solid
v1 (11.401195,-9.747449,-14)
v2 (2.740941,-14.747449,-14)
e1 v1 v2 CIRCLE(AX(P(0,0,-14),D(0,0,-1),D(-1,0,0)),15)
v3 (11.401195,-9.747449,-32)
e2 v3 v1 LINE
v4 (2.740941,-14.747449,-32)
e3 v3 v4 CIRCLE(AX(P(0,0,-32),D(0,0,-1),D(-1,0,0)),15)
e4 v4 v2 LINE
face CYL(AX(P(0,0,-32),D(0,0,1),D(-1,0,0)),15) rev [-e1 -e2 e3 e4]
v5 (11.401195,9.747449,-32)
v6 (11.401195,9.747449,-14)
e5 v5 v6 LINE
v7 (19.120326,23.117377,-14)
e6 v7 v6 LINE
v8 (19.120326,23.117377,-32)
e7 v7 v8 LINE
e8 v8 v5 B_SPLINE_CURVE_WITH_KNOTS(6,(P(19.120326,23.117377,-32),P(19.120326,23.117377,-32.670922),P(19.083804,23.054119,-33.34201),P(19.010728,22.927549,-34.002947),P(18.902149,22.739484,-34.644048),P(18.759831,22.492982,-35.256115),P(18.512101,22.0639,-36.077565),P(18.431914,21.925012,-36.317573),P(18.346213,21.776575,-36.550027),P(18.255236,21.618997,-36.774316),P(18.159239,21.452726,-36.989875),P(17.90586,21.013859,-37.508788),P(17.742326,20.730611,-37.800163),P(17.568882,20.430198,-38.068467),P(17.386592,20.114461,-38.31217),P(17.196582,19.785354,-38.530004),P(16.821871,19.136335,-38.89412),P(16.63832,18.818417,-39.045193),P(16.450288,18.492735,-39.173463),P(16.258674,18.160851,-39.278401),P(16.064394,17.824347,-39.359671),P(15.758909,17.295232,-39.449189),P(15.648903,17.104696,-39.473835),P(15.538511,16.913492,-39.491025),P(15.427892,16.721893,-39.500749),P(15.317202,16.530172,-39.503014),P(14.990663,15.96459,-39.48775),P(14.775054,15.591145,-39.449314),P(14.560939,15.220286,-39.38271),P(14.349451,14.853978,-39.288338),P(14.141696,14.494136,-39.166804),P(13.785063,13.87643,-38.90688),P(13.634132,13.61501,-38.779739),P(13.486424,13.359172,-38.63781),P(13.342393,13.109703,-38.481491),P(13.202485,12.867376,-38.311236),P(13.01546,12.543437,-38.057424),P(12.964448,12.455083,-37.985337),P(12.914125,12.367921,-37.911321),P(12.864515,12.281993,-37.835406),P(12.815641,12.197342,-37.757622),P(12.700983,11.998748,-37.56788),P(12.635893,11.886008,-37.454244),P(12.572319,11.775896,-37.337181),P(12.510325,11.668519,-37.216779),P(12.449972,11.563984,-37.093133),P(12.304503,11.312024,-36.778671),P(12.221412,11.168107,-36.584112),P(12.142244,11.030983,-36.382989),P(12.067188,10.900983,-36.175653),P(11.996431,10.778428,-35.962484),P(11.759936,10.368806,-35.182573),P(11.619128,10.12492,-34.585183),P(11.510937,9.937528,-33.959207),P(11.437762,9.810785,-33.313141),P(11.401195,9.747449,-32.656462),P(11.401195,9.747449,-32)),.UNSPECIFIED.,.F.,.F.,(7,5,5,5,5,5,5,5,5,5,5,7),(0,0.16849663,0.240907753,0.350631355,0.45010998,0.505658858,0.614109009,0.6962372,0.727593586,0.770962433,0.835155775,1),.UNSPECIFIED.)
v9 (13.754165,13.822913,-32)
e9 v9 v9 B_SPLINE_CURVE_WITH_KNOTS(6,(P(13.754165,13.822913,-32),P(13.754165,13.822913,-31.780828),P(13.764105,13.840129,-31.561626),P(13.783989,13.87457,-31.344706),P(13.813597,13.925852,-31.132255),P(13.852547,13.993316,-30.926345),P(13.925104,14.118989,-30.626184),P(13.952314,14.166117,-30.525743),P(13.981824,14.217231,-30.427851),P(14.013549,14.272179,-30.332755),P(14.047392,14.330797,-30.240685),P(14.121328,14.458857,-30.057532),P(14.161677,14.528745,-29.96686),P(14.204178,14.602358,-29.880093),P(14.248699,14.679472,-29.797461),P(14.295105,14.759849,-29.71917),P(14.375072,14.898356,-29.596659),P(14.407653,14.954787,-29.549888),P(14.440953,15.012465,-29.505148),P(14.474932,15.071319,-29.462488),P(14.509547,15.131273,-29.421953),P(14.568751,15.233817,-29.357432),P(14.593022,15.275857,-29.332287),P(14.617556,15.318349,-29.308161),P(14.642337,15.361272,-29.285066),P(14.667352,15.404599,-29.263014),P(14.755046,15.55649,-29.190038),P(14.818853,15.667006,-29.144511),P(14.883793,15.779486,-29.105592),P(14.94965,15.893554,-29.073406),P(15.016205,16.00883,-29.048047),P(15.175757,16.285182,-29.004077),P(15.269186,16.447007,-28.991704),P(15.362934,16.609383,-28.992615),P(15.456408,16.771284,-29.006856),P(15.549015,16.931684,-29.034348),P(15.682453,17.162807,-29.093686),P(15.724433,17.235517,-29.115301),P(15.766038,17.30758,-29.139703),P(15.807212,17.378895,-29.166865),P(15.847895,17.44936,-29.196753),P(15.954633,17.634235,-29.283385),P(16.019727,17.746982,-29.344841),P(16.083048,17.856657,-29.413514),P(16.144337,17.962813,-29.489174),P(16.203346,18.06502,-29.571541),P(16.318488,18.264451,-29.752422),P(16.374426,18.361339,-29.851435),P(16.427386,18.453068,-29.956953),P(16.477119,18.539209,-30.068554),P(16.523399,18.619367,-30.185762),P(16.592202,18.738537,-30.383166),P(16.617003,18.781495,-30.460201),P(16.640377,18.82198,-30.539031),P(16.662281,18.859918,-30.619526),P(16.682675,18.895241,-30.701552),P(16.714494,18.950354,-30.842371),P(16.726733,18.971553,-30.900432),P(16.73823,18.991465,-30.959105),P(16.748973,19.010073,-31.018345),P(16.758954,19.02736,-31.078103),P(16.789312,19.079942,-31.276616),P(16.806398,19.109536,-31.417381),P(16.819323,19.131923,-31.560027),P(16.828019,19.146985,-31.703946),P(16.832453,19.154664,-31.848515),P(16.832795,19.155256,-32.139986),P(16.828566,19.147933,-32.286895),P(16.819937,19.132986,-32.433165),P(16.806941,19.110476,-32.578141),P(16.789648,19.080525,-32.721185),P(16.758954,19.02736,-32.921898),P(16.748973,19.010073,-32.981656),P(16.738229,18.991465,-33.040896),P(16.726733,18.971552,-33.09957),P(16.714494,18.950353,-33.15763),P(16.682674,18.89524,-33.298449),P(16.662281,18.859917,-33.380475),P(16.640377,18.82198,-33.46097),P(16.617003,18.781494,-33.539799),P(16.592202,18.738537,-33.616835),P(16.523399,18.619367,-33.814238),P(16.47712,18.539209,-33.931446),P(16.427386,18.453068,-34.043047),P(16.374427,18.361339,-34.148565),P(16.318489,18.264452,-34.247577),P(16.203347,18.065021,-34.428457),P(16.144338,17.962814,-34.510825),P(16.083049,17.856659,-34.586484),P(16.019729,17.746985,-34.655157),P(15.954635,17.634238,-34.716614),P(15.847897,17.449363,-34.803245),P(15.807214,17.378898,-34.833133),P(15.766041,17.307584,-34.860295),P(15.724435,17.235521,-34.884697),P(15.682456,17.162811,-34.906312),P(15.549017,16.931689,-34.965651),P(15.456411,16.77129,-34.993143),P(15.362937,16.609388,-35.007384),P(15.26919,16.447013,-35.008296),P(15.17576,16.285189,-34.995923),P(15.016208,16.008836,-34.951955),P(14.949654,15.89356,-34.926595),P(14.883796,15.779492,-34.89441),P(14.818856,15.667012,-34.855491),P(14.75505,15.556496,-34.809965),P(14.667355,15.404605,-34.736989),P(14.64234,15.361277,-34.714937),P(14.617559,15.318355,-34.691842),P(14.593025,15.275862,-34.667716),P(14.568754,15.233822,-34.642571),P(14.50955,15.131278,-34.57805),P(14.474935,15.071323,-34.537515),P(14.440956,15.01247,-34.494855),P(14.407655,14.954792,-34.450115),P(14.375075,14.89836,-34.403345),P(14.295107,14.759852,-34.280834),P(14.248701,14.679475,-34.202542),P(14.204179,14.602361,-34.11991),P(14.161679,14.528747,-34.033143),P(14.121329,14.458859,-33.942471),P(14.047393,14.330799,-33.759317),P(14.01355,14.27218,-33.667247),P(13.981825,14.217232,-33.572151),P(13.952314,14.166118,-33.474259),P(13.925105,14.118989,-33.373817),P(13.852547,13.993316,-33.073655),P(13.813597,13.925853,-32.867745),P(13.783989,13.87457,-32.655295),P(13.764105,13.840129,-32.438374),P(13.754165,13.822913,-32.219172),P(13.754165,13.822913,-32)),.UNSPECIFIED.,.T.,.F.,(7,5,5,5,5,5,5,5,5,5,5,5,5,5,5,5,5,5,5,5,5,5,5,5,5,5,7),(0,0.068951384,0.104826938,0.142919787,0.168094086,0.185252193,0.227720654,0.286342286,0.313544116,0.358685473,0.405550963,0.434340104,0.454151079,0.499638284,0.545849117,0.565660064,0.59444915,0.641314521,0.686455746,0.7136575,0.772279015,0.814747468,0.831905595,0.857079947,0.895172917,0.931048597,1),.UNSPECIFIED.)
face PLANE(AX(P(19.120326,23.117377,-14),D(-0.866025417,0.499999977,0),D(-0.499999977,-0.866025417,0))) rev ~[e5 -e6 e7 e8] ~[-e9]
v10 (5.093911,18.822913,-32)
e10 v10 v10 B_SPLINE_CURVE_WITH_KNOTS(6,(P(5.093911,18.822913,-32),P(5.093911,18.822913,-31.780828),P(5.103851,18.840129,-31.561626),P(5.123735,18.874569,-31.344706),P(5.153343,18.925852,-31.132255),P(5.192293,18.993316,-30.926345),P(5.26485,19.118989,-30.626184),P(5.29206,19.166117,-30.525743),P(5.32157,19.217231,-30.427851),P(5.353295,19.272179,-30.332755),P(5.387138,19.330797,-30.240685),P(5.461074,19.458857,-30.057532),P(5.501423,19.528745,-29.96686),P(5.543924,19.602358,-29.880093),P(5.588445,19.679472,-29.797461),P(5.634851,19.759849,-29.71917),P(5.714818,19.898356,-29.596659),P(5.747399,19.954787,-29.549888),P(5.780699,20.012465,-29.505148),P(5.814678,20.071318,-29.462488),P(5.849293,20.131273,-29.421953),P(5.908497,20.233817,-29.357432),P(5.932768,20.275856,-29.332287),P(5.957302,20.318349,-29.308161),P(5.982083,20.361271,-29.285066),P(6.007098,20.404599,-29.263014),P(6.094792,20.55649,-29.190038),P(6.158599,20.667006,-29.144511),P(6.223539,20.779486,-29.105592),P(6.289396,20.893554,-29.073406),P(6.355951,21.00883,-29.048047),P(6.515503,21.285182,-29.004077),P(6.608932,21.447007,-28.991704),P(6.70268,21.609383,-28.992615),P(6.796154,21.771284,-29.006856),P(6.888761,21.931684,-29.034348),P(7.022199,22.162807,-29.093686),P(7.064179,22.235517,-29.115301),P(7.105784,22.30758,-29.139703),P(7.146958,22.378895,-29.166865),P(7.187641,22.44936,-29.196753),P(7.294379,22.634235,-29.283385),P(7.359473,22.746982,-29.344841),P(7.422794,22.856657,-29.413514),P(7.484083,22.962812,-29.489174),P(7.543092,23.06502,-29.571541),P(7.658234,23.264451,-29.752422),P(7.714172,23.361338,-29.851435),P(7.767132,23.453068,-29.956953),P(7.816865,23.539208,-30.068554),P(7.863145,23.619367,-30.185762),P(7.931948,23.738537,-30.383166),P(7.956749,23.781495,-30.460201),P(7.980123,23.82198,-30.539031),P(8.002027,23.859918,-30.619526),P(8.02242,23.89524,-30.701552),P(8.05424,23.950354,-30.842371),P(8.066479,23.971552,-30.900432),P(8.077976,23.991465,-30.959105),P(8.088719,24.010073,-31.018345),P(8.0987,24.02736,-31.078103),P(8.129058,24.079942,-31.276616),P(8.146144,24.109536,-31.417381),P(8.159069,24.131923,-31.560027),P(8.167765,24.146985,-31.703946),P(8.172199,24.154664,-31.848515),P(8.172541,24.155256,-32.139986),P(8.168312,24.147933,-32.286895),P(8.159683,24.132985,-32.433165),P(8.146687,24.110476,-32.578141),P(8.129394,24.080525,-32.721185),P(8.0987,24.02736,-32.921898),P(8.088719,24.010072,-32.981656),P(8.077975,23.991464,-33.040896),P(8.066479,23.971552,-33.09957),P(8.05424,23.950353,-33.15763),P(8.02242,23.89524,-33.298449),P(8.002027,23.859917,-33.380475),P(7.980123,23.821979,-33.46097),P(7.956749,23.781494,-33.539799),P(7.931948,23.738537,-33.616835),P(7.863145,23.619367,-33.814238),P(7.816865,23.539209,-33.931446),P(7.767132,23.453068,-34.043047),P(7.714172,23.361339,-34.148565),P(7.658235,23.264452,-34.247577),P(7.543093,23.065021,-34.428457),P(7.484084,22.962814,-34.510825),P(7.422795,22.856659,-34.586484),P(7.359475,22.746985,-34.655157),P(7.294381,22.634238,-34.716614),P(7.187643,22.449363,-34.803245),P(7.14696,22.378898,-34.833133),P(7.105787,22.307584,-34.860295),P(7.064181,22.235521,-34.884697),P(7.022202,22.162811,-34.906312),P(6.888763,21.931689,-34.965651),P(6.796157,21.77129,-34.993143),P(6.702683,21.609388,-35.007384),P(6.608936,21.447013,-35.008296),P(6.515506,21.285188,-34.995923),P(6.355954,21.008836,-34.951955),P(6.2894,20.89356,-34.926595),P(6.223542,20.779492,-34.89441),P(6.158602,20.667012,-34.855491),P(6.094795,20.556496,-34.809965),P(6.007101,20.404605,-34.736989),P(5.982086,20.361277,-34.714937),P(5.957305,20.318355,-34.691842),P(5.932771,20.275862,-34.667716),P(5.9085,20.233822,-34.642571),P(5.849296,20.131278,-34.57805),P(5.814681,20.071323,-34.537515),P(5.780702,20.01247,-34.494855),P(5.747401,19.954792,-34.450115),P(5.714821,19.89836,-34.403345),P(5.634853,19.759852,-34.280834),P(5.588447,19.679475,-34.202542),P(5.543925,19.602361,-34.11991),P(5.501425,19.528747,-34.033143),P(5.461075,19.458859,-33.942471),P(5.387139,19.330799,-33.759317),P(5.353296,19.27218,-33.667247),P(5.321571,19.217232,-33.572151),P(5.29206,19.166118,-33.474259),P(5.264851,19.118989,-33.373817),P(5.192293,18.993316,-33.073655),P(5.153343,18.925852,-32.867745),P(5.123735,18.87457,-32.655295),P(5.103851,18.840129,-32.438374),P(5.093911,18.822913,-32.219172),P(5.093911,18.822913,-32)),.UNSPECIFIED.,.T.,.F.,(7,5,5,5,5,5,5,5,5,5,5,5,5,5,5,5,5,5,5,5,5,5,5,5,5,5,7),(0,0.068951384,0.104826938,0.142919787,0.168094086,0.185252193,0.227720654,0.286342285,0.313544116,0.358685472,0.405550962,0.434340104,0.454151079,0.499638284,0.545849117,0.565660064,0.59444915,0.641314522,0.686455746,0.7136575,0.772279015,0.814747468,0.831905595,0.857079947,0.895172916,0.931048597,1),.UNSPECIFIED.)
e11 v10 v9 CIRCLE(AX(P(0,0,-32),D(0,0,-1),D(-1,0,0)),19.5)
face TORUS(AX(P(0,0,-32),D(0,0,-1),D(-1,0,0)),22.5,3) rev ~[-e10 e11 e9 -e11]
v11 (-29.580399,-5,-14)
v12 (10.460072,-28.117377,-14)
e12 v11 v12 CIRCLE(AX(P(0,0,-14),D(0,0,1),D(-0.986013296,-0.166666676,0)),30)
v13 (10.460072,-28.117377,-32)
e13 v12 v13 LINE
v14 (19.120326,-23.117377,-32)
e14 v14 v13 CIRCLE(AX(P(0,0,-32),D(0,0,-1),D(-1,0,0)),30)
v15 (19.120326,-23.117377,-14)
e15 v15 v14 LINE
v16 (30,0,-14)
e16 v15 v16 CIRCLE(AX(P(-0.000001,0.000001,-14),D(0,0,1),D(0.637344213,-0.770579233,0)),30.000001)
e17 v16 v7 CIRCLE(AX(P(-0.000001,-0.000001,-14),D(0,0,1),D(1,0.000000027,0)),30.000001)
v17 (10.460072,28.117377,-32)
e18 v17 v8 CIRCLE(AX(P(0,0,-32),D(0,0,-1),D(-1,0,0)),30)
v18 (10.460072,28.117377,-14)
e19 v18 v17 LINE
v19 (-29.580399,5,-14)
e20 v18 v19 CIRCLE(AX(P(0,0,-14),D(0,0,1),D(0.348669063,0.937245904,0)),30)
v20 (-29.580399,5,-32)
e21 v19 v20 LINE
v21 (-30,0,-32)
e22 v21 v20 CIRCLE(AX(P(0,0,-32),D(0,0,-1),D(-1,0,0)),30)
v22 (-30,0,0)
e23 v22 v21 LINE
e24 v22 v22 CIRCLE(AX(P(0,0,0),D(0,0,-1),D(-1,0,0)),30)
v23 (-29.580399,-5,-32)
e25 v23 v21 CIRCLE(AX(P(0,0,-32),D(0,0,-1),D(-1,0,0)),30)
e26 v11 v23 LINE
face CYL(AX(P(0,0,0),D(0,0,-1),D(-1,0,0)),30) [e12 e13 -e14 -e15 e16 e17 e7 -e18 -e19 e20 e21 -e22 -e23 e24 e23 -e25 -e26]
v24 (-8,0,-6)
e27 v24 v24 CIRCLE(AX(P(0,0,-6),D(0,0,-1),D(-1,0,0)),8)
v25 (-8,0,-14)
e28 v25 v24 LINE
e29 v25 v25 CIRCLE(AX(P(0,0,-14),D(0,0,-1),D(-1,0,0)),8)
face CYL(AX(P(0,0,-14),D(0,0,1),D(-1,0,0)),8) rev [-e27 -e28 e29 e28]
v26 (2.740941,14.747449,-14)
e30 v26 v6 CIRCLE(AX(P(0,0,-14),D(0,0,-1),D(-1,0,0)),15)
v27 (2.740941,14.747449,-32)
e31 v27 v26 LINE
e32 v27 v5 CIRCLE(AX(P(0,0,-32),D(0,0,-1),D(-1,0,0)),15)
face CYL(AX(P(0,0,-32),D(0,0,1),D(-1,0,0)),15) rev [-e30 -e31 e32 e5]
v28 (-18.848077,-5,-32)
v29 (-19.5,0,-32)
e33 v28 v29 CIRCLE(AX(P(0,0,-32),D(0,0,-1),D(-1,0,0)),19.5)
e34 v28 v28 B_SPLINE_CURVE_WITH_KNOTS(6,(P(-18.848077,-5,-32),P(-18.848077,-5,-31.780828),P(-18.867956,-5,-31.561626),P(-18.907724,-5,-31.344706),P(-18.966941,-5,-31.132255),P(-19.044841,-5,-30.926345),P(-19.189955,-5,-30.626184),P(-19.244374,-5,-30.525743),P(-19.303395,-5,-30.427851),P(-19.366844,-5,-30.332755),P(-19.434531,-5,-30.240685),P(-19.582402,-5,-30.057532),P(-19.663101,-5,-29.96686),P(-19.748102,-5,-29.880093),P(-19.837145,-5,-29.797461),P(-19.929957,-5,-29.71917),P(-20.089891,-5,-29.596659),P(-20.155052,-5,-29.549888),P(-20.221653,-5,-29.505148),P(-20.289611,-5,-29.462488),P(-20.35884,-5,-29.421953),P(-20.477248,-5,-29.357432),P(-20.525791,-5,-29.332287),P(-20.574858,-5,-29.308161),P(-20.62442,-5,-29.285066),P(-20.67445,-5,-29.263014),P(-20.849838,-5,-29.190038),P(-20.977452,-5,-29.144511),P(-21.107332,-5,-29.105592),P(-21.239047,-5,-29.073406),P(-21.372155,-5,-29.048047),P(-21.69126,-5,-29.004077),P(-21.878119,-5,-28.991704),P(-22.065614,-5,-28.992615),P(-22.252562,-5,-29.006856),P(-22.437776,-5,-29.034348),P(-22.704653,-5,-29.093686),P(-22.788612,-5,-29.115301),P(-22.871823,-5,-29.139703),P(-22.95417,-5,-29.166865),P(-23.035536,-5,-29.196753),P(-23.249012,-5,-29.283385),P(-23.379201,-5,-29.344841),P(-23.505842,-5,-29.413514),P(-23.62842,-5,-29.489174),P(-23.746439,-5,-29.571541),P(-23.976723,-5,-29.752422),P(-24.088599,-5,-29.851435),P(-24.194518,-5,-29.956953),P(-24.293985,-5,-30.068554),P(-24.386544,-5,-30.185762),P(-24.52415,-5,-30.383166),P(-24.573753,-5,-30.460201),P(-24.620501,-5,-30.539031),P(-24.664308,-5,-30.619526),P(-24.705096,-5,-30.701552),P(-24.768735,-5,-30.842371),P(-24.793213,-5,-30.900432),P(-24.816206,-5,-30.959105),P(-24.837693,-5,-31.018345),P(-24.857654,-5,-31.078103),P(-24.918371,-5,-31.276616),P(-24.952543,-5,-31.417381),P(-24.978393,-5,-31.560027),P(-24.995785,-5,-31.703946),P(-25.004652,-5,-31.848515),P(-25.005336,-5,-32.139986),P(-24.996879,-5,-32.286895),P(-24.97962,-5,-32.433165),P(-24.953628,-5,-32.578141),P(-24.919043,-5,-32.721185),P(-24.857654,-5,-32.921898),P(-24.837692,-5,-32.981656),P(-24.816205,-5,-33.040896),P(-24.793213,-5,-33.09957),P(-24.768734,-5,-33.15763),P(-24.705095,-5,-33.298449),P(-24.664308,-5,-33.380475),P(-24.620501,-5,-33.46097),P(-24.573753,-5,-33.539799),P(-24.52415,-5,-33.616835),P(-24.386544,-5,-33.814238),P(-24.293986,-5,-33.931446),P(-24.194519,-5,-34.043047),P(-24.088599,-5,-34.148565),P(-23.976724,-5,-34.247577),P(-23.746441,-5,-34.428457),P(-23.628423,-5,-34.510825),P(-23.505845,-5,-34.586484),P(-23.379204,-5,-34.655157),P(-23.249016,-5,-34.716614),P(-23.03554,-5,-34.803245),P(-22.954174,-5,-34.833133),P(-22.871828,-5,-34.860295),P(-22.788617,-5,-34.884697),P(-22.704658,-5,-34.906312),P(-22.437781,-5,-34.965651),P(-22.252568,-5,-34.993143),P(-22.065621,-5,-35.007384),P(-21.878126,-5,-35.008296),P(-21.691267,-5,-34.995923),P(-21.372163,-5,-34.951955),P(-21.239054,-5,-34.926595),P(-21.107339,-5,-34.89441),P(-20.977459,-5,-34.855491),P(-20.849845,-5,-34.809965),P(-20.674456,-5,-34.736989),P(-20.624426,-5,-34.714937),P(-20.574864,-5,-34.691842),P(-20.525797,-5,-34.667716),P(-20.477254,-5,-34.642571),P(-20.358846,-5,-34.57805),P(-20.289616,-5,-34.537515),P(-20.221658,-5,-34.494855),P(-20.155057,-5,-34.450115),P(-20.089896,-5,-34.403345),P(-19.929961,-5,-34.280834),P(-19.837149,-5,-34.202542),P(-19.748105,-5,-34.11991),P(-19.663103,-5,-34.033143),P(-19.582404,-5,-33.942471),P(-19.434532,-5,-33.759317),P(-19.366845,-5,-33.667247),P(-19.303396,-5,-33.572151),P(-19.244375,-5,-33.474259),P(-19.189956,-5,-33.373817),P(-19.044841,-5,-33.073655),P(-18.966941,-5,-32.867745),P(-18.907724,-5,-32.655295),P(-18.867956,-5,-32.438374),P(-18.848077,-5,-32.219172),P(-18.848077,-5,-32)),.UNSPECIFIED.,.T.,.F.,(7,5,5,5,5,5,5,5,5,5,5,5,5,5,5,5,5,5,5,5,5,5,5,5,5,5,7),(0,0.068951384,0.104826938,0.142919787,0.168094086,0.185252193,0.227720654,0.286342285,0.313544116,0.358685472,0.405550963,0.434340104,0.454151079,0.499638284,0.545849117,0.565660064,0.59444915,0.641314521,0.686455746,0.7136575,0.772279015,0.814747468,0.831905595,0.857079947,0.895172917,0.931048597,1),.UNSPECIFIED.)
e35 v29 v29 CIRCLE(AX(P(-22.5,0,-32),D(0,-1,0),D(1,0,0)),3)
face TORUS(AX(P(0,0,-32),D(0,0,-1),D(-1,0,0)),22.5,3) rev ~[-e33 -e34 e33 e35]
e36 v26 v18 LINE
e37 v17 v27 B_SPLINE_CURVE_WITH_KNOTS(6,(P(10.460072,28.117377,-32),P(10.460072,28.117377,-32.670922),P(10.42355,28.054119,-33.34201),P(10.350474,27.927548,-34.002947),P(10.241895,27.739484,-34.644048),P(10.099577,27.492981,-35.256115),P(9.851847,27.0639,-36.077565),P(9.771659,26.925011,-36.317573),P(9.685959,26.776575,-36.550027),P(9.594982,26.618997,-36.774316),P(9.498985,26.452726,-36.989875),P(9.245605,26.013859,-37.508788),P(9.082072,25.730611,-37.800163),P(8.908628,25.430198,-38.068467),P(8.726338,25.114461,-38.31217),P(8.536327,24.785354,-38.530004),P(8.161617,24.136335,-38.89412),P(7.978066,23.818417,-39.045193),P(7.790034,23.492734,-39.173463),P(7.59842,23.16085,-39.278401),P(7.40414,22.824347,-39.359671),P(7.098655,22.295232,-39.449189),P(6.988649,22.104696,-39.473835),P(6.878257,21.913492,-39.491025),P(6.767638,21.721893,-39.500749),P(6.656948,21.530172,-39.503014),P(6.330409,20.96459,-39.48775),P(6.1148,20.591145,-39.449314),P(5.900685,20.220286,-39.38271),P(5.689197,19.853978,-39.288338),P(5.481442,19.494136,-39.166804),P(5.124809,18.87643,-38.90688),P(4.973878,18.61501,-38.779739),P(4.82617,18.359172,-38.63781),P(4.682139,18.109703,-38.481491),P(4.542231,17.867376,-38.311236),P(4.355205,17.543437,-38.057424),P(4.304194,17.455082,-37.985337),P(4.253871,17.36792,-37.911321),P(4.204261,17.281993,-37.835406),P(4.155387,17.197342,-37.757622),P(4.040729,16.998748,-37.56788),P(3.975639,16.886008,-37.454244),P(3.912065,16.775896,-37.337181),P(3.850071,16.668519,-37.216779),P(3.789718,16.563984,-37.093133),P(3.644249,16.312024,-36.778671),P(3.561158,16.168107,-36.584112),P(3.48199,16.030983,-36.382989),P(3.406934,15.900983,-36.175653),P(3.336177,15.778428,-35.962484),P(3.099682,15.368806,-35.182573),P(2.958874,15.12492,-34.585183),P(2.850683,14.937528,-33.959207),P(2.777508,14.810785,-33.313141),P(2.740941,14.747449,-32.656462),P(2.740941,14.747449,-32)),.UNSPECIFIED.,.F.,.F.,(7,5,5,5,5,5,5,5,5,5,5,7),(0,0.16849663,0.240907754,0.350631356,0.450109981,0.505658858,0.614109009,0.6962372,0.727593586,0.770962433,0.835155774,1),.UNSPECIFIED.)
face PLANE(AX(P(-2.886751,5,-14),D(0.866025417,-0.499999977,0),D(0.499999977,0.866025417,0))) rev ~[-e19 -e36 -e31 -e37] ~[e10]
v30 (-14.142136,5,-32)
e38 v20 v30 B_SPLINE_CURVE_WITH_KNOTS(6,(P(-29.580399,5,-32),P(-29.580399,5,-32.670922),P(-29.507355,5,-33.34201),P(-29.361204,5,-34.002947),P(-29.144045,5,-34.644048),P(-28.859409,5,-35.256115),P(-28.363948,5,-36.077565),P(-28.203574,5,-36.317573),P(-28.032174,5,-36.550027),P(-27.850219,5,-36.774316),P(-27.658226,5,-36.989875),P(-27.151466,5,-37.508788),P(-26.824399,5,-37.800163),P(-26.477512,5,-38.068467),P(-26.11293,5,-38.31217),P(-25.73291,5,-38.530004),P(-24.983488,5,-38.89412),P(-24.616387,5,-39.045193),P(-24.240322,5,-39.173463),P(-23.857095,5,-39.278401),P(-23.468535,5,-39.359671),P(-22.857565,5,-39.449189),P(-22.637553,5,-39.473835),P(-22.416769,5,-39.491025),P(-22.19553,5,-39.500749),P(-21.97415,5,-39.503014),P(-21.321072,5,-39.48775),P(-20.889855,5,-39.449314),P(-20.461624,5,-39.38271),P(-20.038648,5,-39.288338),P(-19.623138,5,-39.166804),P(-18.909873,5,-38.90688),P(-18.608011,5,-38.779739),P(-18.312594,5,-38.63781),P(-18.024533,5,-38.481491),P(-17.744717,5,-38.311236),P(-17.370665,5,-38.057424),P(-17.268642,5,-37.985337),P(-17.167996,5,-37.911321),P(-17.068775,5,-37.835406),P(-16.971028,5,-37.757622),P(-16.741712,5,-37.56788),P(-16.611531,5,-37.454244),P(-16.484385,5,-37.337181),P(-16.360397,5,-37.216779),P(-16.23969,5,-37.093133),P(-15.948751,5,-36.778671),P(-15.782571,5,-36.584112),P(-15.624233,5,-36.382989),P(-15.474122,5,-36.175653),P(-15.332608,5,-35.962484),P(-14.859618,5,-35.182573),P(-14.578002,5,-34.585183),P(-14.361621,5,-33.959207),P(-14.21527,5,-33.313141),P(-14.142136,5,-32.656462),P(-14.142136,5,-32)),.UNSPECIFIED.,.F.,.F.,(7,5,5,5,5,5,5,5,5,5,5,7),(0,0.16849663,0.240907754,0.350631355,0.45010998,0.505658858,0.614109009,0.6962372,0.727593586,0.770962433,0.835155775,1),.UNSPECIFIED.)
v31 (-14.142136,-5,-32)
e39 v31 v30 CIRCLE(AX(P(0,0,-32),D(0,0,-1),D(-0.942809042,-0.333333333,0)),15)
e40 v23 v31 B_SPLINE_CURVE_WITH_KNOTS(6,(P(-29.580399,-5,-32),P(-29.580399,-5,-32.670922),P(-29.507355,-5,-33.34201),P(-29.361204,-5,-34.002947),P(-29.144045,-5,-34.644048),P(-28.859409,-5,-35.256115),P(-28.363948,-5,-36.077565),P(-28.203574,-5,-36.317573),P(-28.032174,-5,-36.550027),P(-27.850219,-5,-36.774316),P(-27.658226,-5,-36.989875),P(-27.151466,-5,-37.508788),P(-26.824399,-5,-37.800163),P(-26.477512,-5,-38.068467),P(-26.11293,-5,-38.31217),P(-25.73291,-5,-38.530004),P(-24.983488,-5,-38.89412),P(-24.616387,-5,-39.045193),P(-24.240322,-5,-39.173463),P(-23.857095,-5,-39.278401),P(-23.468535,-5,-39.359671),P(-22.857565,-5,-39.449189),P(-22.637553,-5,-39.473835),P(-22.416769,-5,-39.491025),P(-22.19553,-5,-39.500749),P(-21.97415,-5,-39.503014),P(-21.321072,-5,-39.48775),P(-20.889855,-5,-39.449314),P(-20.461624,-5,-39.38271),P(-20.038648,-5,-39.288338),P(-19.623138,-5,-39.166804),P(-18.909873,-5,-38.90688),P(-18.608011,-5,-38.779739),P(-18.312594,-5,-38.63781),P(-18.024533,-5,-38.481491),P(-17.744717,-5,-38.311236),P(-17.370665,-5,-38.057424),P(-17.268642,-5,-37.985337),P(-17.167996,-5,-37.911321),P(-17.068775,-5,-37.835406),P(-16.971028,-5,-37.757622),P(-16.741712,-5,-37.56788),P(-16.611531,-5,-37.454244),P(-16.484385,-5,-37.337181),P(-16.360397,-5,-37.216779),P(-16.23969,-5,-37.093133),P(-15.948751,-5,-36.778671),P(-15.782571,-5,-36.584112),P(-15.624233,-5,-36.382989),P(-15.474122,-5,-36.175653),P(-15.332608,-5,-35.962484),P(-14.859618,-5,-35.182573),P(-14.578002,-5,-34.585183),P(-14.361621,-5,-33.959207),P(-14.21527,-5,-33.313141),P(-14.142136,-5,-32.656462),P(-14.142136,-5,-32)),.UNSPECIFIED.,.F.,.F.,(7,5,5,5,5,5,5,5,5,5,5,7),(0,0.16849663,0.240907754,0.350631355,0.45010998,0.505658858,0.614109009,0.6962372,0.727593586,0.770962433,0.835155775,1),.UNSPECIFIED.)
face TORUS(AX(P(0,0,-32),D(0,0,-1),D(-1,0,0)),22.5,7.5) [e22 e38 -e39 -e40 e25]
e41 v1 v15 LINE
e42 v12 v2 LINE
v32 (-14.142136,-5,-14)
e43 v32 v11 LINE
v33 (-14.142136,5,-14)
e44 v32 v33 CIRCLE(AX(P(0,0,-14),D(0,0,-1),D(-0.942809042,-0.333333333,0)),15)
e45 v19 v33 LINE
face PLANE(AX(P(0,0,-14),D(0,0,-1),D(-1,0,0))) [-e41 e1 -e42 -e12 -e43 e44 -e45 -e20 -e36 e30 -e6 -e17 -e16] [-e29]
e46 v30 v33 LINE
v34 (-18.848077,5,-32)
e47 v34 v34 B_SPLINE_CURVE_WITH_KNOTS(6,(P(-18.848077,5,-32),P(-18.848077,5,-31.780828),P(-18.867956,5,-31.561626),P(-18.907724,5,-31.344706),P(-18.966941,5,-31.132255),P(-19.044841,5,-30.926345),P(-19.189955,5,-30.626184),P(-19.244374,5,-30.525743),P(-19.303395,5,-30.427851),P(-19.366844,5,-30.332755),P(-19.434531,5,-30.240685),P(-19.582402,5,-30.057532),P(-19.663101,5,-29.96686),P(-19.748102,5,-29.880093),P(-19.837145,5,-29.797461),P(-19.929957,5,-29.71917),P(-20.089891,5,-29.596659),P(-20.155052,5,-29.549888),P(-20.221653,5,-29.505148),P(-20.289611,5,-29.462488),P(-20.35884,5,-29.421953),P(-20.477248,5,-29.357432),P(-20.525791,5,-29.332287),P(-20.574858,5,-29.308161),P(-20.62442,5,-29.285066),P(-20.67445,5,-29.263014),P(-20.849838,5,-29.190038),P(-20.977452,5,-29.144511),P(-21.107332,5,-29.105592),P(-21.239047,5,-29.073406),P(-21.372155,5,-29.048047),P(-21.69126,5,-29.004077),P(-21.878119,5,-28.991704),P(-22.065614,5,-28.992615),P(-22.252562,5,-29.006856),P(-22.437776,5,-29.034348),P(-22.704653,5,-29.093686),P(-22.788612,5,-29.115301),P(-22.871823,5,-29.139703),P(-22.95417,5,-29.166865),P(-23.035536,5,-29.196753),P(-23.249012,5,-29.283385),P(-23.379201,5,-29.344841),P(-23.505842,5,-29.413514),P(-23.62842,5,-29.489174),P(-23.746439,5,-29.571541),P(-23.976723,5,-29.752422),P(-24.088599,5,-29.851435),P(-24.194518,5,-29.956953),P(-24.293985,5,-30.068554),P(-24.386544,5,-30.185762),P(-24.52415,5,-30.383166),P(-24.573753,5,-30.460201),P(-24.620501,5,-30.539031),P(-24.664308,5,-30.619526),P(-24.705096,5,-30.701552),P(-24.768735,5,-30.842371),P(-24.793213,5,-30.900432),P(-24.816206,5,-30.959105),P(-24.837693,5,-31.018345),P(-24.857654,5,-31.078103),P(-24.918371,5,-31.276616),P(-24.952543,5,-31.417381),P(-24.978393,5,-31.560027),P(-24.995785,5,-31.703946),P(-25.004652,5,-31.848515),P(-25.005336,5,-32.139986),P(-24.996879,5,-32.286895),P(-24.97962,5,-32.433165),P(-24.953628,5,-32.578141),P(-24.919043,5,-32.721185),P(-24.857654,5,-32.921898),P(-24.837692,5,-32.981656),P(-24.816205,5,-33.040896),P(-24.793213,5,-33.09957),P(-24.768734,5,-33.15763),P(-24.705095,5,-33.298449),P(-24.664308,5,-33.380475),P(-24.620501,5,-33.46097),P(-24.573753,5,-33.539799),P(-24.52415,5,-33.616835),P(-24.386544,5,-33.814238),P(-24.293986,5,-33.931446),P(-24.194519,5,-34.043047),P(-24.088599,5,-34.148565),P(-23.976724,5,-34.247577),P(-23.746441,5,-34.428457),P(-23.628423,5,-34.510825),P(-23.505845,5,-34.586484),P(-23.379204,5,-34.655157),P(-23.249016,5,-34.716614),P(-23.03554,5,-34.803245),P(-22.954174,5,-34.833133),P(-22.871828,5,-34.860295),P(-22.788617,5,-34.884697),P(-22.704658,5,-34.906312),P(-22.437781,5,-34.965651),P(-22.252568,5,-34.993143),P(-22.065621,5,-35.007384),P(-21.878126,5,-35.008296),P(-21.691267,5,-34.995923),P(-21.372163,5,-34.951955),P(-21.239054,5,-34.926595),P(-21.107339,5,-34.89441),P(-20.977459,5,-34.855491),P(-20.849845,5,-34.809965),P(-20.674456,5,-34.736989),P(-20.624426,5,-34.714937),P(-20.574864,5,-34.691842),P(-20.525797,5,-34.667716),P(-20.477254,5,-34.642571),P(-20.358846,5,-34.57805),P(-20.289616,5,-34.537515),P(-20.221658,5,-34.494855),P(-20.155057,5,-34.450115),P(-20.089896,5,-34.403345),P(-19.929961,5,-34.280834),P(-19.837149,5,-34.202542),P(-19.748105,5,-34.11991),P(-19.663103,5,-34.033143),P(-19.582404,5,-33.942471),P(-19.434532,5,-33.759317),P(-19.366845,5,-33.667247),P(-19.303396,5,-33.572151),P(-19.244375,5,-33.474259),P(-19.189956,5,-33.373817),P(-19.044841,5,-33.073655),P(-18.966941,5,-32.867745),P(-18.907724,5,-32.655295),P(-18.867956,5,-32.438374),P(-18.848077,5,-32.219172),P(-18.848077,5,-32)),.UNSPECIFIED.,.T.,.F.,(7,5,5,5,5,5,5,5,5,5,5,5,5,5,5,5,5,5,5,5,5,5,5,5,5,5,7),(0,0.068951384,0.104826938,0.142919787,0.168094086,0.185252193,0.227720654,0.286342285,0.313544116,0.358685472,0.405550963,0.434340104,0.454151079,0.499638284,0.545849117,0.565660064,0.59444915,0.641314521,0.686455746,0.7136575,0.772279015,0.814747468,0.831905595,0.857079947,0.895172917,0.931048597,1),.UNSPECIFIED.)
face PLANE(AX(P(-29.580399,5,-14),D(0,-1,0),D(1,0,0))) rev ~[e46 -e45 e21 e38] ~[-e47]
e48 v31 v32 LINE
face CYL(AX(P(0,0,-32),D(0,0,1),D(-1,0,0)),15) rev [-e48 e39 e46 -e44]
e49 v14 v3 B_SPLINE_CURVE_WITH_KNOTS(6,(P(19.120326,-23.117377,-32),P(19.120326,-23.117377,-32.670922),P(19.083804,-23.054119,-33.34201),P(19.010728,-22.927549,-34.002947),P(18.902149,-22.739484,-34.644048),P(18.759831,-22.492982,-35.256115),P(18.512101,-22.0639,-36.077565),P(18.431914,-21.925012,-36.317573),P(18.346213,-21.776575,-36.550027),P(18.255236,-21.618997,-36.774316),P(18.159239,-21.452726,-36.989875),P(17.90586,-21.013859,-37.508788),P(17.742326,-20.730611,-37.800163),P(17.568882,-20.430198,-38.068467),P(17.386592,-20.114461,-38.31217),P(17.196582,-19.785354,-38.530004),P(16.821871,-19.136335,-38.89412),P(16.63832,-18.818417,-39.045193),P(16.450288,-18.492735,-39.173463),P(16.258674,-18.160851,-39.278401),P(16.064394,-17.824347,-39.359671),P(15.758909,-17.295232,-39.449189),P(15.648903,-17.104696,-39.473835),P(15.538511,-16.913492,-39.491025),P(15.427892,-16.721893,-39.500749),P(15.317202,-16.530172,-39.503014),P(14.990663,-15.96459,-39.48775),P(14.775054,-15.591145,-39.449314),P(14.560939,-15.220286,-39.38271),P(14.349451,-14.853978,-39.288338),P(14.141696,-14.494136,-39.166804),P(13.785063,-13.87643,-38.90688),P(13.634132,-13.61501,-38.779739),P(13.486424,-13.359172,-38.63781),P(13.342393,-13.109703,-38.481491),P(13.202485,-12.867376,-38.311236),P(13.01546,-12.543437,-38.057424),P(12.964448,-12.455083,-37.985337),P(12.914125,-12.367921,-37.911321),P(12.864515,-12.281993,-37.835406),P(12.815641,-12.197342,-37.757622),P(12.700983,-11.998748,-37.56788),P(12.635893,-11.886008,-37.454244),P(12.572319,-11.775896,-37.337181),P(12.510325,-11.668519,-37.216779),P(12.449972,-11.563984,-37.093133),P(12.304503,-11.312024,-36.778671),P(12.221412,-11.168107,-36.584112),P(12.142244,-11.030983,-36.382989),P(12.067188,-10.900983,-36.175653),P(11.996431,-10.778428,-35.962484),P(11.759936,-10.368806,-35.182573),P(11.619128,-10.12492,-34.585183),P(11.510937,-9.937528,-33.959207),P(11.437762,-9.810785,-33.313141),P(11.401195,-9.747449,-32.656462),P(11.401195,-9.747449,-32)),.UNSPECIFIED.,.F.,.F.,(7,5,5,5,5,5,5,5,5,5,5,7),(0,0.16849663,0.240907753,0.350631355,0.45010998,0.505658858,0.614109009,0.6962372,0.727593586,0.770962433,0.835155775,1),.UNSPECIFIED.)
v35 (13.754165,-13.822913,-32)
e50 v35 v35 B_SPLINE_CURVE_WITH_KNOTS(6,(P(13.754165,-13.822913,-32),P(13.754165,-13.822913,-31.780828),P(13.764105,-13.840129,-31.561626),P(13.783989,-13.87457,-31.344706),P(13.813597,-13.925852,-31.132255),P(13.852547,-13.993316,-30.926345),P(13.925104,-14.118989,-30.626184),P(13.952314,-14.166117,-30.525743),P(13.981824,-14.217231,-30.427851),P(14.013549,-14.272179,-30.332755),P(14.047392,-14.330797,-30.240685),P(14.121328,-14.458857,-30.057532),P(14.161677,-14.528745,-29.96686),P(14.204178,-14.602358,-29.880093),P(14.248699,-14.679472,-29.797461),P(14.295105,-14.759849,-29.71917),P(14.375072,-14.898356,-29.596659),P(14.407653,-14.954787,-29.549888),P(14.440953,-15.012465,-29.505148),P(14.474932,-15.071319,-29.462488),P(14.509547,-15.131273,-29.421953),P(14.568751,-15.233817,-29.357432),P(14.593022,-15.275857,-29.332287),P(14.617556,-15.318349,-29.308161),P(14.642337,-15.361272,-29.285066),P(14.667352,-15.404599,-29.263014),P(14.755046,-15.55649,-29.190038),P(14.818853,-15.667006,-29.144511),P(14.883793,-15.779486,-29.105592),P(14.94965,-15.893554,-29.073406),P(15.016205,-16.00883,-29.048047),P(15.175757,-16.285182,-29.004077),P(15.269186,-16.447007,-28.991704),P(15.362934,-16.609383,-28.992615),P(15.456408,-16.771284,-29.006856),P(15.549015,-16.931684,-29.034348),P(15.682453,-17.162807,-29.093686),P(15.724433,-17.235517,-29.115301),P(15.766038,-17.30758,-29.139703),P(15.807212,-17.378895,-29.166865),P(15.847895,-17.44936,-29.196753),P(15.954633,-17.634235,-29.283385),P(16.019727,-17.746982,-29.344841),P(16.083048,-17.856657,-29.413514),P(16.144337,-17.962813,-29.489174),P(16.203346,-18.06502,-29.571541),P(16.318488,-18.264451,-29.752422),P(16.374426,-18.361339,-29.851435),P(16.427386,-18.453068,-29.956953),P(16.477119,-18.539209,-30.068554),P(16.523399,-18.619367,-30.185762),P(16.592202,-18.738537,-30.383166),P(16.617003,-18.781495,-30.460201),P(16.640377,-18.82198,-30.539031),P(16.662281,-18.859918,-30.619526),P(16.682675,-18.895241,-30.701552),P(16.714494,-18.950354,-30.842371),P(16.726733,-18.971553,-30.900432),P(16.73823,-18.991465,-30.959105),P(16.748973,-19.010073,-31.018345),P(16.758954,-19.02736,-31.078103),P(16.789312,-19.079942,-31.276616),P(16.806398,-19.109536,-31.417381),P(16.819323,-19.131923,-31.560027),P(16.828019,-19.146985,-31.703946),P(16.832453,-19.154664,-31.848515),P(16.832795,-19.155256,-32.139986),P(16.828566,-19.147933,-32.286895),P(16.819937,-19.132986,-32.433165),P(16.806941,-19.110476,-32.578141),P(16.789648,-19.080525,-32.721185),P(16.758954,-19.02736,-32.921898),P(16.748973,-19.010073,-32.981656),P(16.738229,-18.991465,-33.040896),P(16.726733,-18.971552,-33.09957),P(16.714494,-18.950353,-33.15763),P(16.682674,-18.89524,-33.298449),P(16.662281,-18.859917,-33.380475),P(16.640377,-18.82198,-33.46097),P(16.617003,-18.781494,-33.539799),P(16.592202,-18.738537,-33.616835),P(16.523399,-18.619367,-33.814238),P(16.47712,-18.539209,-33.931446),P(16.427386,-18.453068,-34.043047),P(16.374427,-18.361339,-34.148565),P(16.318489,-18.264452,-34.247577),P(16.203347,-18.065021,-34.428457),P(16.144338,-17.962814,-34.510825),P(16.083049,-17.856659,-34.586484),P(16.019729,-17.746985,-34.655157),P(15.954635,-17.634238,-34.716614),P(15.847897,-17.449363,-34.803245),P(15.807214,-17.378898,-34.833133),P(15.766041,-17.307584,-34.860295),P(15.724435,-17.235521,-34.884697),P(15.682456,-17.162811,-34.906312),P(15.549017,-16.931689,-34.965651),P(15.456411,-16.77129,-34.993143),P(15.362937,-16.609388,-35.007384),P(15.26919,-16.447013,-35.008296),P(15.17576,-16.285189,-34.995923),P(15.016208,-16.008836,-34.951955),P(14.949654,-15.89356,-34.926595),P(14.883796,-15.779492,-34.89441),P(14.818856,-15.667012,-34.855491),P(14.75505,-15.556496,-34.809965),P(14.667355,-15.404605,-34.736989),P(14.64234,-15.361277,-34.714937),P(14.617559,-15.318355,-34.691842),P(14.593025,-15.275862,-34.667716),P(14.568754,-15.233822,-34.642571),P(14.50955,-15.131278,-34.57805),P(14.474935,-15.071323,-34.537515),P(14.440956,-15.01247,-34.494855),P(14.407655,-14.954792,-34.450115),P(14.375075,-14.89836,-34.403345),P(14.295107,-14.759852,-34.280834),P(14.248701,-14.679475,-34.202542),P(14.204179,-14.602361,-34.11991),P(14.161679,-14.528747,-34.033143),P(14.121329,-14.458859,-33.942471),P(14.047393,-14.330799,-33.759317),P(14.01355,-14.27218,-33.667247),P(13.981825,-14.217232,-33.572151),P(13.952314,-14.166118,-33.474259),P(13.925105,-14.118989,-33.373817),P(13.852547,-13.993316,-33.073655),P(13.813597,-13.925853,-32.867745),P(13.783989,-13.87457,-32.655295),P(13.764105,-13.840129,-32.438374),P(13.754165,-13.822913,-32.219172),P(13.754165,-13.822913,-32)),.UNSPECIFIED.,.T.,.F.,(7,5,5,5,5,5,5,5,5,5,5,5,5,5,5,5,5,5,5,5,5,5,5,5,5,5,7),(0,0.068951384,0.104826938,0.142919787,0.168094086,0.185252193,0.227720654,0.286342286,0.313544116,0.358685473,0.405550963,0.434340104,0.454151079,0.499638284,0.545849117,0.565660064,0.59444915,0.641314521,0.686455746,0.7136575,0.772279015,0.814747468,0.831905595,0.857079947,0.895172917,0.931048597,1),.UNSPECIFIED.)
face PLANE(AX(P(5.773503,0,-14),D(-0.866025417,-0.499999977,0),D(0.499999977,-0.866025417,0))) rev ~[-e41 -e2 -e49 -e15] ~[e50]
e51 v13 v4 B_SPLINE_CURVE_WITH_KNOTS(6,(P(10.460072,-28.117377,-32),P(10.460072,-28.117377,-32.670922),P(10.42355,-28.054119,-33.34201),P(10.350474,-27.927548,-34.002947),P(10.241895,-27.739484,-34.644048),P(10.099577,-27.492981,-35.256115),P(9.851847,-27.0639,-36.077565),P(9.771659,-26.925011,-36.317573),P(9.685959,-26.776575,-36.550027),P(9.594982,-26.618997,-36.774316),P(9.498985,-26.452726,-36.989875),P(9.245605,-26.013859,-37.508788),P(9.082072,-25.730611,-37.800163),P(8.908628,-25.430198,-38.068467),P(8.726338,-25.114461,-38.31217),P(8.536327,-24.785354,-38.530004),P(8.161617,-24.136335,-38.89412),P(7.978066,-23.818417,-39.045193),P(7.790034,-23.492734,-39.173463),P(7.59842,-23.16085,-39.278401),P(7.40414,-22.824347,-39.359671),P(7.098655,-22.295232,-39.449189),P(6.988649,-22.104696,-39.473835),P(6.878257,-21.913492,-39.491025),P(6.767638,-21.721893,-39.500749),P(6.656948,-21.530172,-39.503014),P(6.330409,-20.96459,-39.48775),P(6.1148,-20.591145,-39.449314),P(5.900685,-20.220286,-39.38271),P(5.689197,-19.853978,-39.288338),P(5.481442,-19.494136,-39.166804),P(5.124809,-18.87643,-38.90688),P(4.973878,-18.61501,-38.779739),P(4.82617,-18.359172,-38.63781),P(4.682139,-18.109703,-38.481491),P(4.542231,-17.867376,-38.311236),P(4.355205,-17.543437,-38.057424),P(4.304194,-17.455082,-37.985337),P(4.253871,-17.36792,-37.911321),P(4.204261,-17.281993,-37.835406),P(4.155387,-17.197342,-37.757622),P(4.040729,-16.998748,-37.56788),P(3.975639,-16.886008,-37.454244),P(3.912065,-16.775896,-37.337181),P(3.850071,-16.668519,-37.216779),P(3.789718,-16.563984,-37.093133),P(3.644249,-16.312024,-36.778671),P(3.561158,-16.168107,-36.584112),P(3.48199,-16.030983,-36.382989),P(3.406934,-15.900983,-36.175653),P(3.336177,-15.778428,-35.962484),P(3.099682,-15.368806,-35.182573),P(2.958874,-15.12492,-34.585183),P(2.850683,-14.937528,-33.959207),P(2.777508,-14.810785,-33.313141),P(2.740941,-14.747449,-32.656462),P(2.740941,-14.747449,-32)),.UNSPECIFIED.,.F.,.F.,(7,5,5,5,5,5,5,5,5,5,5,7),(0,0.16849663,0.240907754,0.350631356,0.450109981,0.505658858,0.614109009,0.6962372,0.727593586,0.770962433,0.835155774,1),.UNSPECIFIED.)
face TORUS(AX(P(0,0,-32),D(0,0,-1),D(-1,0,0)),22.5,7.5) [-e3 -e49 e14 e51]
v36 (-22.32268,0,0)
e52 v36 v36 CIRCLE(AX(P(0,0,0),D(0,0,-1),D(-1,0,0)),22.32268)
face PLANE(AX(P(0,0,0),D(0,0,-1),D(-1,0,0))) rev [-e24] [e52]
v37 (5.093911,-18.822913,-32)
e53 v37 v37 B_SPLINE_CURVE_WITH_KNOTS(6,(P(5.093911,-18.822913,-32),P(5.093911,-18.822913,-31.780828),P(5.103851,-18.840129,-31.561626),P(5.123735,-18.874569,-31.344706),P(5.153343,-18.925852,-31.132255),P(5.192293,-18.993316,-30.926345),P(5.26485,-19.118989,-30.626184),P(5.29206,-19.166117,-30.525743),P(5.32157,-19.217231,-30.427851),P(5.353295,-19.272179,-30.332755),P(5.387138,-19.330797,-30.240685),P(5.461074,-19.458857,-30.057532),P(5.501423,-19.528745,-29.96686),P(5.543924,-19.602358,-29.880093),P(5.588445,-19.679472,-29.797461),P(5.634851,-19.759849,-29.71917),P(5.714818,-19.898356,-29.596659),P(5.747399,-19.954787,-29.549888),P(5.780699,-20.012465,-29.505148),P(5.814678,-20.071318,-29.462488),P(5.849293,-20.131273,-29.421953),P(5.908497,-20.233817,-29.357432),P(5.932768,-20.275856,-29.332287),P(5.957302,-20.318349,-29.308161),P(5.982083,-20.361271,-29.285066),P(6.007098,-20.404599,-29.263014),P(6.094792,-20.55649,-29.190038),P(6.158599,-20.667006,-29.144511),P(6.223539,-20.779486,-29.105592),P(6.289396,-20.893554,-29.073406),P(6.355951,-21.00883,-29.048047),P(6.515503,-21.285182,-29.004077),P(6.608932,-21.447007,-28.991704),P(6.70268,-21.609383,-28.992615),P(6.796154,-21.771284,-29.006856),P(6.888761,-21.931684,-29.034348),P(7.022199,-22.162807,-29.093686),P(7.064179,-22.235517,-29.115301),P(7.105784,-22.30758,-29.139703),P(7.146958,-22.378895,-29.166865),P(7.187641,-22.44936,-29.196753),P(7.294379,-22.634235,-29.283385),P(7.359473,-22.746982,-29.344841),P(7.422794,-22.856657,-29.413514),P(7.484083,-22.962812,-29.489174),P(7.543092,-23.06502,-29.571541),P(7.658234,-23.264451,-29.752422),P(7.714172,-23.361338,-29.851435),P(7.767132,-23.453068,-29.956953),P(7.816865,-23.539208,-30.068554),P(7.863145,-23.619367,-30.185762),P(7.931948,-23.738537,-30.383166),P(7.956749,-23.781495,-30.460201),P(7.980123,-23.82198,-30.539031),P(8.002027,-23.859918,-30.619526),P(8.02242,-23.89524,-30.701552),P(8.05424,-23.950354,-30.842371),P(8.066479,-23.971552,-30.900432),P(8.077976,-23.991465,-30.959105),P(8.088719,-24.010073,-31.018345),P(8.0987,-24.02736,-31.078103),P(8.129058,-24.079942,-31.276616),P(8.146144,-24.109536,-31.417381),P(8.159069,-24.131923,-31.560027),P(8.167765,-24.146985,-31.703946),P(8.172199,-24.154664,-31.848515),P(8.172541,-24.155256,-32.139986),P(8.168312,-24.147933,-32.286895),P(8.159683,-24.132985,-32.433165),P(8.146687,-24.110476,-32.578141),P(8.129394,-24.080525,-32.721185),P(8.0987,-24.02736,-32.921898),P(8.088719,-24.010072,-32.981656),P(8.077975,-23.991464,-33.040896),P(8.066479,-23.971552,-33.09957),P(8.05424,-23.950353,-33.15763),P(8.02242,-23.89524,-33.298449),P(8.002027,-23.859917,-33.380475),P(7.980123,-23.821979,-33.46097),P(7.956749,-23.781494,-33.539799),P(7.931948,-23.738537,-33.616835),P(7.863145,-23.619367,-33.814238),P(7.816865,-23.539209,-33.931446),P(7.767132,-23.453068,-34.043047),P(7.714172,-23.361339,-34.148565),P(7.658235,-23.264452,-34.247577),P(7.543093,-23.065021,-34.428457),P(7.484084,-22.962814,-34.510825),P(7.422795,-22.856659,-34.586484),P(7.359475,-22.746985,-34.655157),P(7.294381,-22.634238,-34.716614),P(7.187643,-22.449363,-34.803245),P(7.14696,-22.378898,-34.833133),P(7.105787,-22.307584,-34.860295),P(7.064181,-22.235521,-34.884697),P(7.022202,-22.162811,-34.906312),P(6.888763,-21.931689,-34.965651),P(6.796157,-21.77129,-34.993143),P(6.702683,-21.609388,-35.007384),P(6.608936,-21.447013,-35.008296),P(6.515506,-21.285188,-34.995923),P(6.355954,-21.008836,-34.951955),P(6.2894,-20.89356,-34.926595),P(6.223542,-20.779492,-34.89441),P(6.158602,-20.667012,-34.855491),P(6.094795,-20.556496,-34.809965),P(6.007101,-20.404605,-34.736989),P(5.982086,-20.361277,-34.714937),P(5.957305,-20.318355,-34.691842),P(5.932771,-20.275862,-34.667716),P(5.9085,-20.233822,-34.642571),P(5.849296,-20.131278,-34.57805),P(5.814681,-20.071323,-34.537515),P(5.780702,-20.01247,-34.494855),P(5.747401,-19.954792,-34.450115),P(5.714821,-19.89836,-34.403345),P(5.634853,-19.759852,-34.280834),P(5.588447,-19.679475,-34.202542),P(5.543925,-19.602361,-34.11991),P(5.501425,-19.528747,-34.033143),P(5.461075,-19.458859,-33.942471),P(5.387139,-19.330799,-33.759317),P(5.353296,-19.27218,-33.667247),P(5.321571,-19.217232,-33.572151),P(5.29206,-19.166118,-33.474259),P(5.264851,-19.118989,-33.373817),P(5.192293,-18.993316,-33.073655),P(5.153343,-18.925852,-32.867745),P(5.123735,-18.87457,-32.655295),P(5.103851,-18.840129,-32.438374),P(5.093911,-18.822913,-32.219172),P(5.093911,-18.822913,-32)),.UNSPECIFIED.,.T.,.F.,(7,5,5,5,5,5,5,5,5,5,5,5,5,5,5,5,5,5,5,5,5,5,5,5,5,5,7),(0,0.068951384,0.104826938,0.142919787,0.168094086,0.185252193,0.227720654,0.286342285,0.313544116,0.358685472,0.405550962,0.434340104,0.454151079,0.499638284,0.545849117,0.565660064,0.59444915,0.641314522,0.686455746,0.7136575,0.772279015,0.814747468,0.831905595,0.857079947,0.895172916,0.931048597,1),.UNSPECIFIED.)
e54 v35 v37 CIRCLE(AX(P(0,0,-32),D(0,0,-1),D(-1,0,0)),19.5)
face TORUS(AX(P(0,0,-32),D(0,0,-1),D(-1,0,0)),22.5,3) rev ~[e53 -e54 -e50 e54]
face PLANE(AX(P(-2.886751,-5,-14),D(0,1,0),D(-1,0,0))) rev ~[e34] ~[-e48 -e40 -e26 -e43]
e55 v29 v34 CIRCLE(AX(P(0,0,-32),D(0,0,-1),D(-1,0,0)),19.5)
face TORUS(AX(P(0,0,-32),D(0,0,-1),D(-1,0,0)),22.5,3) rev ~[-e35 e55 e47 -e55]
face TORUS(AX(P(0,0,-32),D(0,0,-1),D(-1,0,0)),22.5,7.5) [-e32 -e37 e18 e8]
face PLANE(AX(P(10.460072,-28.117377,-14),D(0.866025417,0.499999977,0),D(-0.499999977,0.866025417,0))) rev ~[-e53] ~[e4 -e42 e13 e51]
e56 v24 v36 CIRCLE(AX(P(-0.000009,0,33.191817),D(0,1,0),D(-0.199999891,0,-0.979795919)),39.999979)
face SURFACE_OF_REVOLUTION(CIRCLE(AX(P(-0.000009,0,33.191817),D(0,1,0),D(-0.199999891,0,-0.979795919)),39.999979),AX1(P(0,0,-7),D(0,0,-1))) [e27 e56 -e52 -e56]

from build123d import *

# Parameters (mm, degrees)
F0_R     = 3
F5_DEPTH = 25.501


with BuildPart() as f2:
    # F0 (on Front) → F2 (revolve)
    with BuildSketch(Plane.XZ):
        with BuildLine():
            ThreePointArc((-8, -6), (-15.455298, -3.701711), (-22.32268, 0))
            Line((-22.32268, 0), (-30, 0))
            Line((-30, 0), (-30, -32))
            ThreePointArc((-30, -32), (-22.5, -39.5), (-15, -32))
            Line((-15, -32), (-15, -14))
            Line((-15, -14), (-8, -14))
            Line((-8, -14), (-8, -6))
        make_face()
        with Locations((-22.5, -32)):
            Circle(F0_R, mode=Mode.SUBTRACT)
    revolve(axis=Axis((0, 0, -7), (0, 0, -1)))

    # F4 (on offset) → F5 (cut, through all)
    with BuildSketch(Plane.XY.offset(-14)):
        with BuildLine():
            Line((-2.886751, 5), (10.460072, 28.117377))
            ThreePointArc((10.460072, 28.117377), (-15, 25.980762), (-29.580399, 5))
            Line((-29.580399, 5), (-2.886751, 5))
        make_face()
        with BuildLine():
            ThreePointArc((19.120326, -23.117377), (27.14415, -12.774784), (30, 0))
            ThreePointArc((30, 0), (27.14415, 12.774784), (19.120326, 23.117377))
            Line((19.120326, 23.117377), (5.773503, 0))
            Line((5.773503, 0), (19.120326, -23.117377))
        make_face()
        with BuildLine():
            ThreePointArc((-29.580399, -5), (-15, -25.980762), (10.460072, -28.117377))
            Line((10.460072, -28.117377), (-2.886751, -5))
            Line((-2.886751, -5), (-29.580399, -5))
        make_face()
    extrude(amount=-F5_DEPTH, mode=Mode.SUBTRACT)


solid = f2.part
